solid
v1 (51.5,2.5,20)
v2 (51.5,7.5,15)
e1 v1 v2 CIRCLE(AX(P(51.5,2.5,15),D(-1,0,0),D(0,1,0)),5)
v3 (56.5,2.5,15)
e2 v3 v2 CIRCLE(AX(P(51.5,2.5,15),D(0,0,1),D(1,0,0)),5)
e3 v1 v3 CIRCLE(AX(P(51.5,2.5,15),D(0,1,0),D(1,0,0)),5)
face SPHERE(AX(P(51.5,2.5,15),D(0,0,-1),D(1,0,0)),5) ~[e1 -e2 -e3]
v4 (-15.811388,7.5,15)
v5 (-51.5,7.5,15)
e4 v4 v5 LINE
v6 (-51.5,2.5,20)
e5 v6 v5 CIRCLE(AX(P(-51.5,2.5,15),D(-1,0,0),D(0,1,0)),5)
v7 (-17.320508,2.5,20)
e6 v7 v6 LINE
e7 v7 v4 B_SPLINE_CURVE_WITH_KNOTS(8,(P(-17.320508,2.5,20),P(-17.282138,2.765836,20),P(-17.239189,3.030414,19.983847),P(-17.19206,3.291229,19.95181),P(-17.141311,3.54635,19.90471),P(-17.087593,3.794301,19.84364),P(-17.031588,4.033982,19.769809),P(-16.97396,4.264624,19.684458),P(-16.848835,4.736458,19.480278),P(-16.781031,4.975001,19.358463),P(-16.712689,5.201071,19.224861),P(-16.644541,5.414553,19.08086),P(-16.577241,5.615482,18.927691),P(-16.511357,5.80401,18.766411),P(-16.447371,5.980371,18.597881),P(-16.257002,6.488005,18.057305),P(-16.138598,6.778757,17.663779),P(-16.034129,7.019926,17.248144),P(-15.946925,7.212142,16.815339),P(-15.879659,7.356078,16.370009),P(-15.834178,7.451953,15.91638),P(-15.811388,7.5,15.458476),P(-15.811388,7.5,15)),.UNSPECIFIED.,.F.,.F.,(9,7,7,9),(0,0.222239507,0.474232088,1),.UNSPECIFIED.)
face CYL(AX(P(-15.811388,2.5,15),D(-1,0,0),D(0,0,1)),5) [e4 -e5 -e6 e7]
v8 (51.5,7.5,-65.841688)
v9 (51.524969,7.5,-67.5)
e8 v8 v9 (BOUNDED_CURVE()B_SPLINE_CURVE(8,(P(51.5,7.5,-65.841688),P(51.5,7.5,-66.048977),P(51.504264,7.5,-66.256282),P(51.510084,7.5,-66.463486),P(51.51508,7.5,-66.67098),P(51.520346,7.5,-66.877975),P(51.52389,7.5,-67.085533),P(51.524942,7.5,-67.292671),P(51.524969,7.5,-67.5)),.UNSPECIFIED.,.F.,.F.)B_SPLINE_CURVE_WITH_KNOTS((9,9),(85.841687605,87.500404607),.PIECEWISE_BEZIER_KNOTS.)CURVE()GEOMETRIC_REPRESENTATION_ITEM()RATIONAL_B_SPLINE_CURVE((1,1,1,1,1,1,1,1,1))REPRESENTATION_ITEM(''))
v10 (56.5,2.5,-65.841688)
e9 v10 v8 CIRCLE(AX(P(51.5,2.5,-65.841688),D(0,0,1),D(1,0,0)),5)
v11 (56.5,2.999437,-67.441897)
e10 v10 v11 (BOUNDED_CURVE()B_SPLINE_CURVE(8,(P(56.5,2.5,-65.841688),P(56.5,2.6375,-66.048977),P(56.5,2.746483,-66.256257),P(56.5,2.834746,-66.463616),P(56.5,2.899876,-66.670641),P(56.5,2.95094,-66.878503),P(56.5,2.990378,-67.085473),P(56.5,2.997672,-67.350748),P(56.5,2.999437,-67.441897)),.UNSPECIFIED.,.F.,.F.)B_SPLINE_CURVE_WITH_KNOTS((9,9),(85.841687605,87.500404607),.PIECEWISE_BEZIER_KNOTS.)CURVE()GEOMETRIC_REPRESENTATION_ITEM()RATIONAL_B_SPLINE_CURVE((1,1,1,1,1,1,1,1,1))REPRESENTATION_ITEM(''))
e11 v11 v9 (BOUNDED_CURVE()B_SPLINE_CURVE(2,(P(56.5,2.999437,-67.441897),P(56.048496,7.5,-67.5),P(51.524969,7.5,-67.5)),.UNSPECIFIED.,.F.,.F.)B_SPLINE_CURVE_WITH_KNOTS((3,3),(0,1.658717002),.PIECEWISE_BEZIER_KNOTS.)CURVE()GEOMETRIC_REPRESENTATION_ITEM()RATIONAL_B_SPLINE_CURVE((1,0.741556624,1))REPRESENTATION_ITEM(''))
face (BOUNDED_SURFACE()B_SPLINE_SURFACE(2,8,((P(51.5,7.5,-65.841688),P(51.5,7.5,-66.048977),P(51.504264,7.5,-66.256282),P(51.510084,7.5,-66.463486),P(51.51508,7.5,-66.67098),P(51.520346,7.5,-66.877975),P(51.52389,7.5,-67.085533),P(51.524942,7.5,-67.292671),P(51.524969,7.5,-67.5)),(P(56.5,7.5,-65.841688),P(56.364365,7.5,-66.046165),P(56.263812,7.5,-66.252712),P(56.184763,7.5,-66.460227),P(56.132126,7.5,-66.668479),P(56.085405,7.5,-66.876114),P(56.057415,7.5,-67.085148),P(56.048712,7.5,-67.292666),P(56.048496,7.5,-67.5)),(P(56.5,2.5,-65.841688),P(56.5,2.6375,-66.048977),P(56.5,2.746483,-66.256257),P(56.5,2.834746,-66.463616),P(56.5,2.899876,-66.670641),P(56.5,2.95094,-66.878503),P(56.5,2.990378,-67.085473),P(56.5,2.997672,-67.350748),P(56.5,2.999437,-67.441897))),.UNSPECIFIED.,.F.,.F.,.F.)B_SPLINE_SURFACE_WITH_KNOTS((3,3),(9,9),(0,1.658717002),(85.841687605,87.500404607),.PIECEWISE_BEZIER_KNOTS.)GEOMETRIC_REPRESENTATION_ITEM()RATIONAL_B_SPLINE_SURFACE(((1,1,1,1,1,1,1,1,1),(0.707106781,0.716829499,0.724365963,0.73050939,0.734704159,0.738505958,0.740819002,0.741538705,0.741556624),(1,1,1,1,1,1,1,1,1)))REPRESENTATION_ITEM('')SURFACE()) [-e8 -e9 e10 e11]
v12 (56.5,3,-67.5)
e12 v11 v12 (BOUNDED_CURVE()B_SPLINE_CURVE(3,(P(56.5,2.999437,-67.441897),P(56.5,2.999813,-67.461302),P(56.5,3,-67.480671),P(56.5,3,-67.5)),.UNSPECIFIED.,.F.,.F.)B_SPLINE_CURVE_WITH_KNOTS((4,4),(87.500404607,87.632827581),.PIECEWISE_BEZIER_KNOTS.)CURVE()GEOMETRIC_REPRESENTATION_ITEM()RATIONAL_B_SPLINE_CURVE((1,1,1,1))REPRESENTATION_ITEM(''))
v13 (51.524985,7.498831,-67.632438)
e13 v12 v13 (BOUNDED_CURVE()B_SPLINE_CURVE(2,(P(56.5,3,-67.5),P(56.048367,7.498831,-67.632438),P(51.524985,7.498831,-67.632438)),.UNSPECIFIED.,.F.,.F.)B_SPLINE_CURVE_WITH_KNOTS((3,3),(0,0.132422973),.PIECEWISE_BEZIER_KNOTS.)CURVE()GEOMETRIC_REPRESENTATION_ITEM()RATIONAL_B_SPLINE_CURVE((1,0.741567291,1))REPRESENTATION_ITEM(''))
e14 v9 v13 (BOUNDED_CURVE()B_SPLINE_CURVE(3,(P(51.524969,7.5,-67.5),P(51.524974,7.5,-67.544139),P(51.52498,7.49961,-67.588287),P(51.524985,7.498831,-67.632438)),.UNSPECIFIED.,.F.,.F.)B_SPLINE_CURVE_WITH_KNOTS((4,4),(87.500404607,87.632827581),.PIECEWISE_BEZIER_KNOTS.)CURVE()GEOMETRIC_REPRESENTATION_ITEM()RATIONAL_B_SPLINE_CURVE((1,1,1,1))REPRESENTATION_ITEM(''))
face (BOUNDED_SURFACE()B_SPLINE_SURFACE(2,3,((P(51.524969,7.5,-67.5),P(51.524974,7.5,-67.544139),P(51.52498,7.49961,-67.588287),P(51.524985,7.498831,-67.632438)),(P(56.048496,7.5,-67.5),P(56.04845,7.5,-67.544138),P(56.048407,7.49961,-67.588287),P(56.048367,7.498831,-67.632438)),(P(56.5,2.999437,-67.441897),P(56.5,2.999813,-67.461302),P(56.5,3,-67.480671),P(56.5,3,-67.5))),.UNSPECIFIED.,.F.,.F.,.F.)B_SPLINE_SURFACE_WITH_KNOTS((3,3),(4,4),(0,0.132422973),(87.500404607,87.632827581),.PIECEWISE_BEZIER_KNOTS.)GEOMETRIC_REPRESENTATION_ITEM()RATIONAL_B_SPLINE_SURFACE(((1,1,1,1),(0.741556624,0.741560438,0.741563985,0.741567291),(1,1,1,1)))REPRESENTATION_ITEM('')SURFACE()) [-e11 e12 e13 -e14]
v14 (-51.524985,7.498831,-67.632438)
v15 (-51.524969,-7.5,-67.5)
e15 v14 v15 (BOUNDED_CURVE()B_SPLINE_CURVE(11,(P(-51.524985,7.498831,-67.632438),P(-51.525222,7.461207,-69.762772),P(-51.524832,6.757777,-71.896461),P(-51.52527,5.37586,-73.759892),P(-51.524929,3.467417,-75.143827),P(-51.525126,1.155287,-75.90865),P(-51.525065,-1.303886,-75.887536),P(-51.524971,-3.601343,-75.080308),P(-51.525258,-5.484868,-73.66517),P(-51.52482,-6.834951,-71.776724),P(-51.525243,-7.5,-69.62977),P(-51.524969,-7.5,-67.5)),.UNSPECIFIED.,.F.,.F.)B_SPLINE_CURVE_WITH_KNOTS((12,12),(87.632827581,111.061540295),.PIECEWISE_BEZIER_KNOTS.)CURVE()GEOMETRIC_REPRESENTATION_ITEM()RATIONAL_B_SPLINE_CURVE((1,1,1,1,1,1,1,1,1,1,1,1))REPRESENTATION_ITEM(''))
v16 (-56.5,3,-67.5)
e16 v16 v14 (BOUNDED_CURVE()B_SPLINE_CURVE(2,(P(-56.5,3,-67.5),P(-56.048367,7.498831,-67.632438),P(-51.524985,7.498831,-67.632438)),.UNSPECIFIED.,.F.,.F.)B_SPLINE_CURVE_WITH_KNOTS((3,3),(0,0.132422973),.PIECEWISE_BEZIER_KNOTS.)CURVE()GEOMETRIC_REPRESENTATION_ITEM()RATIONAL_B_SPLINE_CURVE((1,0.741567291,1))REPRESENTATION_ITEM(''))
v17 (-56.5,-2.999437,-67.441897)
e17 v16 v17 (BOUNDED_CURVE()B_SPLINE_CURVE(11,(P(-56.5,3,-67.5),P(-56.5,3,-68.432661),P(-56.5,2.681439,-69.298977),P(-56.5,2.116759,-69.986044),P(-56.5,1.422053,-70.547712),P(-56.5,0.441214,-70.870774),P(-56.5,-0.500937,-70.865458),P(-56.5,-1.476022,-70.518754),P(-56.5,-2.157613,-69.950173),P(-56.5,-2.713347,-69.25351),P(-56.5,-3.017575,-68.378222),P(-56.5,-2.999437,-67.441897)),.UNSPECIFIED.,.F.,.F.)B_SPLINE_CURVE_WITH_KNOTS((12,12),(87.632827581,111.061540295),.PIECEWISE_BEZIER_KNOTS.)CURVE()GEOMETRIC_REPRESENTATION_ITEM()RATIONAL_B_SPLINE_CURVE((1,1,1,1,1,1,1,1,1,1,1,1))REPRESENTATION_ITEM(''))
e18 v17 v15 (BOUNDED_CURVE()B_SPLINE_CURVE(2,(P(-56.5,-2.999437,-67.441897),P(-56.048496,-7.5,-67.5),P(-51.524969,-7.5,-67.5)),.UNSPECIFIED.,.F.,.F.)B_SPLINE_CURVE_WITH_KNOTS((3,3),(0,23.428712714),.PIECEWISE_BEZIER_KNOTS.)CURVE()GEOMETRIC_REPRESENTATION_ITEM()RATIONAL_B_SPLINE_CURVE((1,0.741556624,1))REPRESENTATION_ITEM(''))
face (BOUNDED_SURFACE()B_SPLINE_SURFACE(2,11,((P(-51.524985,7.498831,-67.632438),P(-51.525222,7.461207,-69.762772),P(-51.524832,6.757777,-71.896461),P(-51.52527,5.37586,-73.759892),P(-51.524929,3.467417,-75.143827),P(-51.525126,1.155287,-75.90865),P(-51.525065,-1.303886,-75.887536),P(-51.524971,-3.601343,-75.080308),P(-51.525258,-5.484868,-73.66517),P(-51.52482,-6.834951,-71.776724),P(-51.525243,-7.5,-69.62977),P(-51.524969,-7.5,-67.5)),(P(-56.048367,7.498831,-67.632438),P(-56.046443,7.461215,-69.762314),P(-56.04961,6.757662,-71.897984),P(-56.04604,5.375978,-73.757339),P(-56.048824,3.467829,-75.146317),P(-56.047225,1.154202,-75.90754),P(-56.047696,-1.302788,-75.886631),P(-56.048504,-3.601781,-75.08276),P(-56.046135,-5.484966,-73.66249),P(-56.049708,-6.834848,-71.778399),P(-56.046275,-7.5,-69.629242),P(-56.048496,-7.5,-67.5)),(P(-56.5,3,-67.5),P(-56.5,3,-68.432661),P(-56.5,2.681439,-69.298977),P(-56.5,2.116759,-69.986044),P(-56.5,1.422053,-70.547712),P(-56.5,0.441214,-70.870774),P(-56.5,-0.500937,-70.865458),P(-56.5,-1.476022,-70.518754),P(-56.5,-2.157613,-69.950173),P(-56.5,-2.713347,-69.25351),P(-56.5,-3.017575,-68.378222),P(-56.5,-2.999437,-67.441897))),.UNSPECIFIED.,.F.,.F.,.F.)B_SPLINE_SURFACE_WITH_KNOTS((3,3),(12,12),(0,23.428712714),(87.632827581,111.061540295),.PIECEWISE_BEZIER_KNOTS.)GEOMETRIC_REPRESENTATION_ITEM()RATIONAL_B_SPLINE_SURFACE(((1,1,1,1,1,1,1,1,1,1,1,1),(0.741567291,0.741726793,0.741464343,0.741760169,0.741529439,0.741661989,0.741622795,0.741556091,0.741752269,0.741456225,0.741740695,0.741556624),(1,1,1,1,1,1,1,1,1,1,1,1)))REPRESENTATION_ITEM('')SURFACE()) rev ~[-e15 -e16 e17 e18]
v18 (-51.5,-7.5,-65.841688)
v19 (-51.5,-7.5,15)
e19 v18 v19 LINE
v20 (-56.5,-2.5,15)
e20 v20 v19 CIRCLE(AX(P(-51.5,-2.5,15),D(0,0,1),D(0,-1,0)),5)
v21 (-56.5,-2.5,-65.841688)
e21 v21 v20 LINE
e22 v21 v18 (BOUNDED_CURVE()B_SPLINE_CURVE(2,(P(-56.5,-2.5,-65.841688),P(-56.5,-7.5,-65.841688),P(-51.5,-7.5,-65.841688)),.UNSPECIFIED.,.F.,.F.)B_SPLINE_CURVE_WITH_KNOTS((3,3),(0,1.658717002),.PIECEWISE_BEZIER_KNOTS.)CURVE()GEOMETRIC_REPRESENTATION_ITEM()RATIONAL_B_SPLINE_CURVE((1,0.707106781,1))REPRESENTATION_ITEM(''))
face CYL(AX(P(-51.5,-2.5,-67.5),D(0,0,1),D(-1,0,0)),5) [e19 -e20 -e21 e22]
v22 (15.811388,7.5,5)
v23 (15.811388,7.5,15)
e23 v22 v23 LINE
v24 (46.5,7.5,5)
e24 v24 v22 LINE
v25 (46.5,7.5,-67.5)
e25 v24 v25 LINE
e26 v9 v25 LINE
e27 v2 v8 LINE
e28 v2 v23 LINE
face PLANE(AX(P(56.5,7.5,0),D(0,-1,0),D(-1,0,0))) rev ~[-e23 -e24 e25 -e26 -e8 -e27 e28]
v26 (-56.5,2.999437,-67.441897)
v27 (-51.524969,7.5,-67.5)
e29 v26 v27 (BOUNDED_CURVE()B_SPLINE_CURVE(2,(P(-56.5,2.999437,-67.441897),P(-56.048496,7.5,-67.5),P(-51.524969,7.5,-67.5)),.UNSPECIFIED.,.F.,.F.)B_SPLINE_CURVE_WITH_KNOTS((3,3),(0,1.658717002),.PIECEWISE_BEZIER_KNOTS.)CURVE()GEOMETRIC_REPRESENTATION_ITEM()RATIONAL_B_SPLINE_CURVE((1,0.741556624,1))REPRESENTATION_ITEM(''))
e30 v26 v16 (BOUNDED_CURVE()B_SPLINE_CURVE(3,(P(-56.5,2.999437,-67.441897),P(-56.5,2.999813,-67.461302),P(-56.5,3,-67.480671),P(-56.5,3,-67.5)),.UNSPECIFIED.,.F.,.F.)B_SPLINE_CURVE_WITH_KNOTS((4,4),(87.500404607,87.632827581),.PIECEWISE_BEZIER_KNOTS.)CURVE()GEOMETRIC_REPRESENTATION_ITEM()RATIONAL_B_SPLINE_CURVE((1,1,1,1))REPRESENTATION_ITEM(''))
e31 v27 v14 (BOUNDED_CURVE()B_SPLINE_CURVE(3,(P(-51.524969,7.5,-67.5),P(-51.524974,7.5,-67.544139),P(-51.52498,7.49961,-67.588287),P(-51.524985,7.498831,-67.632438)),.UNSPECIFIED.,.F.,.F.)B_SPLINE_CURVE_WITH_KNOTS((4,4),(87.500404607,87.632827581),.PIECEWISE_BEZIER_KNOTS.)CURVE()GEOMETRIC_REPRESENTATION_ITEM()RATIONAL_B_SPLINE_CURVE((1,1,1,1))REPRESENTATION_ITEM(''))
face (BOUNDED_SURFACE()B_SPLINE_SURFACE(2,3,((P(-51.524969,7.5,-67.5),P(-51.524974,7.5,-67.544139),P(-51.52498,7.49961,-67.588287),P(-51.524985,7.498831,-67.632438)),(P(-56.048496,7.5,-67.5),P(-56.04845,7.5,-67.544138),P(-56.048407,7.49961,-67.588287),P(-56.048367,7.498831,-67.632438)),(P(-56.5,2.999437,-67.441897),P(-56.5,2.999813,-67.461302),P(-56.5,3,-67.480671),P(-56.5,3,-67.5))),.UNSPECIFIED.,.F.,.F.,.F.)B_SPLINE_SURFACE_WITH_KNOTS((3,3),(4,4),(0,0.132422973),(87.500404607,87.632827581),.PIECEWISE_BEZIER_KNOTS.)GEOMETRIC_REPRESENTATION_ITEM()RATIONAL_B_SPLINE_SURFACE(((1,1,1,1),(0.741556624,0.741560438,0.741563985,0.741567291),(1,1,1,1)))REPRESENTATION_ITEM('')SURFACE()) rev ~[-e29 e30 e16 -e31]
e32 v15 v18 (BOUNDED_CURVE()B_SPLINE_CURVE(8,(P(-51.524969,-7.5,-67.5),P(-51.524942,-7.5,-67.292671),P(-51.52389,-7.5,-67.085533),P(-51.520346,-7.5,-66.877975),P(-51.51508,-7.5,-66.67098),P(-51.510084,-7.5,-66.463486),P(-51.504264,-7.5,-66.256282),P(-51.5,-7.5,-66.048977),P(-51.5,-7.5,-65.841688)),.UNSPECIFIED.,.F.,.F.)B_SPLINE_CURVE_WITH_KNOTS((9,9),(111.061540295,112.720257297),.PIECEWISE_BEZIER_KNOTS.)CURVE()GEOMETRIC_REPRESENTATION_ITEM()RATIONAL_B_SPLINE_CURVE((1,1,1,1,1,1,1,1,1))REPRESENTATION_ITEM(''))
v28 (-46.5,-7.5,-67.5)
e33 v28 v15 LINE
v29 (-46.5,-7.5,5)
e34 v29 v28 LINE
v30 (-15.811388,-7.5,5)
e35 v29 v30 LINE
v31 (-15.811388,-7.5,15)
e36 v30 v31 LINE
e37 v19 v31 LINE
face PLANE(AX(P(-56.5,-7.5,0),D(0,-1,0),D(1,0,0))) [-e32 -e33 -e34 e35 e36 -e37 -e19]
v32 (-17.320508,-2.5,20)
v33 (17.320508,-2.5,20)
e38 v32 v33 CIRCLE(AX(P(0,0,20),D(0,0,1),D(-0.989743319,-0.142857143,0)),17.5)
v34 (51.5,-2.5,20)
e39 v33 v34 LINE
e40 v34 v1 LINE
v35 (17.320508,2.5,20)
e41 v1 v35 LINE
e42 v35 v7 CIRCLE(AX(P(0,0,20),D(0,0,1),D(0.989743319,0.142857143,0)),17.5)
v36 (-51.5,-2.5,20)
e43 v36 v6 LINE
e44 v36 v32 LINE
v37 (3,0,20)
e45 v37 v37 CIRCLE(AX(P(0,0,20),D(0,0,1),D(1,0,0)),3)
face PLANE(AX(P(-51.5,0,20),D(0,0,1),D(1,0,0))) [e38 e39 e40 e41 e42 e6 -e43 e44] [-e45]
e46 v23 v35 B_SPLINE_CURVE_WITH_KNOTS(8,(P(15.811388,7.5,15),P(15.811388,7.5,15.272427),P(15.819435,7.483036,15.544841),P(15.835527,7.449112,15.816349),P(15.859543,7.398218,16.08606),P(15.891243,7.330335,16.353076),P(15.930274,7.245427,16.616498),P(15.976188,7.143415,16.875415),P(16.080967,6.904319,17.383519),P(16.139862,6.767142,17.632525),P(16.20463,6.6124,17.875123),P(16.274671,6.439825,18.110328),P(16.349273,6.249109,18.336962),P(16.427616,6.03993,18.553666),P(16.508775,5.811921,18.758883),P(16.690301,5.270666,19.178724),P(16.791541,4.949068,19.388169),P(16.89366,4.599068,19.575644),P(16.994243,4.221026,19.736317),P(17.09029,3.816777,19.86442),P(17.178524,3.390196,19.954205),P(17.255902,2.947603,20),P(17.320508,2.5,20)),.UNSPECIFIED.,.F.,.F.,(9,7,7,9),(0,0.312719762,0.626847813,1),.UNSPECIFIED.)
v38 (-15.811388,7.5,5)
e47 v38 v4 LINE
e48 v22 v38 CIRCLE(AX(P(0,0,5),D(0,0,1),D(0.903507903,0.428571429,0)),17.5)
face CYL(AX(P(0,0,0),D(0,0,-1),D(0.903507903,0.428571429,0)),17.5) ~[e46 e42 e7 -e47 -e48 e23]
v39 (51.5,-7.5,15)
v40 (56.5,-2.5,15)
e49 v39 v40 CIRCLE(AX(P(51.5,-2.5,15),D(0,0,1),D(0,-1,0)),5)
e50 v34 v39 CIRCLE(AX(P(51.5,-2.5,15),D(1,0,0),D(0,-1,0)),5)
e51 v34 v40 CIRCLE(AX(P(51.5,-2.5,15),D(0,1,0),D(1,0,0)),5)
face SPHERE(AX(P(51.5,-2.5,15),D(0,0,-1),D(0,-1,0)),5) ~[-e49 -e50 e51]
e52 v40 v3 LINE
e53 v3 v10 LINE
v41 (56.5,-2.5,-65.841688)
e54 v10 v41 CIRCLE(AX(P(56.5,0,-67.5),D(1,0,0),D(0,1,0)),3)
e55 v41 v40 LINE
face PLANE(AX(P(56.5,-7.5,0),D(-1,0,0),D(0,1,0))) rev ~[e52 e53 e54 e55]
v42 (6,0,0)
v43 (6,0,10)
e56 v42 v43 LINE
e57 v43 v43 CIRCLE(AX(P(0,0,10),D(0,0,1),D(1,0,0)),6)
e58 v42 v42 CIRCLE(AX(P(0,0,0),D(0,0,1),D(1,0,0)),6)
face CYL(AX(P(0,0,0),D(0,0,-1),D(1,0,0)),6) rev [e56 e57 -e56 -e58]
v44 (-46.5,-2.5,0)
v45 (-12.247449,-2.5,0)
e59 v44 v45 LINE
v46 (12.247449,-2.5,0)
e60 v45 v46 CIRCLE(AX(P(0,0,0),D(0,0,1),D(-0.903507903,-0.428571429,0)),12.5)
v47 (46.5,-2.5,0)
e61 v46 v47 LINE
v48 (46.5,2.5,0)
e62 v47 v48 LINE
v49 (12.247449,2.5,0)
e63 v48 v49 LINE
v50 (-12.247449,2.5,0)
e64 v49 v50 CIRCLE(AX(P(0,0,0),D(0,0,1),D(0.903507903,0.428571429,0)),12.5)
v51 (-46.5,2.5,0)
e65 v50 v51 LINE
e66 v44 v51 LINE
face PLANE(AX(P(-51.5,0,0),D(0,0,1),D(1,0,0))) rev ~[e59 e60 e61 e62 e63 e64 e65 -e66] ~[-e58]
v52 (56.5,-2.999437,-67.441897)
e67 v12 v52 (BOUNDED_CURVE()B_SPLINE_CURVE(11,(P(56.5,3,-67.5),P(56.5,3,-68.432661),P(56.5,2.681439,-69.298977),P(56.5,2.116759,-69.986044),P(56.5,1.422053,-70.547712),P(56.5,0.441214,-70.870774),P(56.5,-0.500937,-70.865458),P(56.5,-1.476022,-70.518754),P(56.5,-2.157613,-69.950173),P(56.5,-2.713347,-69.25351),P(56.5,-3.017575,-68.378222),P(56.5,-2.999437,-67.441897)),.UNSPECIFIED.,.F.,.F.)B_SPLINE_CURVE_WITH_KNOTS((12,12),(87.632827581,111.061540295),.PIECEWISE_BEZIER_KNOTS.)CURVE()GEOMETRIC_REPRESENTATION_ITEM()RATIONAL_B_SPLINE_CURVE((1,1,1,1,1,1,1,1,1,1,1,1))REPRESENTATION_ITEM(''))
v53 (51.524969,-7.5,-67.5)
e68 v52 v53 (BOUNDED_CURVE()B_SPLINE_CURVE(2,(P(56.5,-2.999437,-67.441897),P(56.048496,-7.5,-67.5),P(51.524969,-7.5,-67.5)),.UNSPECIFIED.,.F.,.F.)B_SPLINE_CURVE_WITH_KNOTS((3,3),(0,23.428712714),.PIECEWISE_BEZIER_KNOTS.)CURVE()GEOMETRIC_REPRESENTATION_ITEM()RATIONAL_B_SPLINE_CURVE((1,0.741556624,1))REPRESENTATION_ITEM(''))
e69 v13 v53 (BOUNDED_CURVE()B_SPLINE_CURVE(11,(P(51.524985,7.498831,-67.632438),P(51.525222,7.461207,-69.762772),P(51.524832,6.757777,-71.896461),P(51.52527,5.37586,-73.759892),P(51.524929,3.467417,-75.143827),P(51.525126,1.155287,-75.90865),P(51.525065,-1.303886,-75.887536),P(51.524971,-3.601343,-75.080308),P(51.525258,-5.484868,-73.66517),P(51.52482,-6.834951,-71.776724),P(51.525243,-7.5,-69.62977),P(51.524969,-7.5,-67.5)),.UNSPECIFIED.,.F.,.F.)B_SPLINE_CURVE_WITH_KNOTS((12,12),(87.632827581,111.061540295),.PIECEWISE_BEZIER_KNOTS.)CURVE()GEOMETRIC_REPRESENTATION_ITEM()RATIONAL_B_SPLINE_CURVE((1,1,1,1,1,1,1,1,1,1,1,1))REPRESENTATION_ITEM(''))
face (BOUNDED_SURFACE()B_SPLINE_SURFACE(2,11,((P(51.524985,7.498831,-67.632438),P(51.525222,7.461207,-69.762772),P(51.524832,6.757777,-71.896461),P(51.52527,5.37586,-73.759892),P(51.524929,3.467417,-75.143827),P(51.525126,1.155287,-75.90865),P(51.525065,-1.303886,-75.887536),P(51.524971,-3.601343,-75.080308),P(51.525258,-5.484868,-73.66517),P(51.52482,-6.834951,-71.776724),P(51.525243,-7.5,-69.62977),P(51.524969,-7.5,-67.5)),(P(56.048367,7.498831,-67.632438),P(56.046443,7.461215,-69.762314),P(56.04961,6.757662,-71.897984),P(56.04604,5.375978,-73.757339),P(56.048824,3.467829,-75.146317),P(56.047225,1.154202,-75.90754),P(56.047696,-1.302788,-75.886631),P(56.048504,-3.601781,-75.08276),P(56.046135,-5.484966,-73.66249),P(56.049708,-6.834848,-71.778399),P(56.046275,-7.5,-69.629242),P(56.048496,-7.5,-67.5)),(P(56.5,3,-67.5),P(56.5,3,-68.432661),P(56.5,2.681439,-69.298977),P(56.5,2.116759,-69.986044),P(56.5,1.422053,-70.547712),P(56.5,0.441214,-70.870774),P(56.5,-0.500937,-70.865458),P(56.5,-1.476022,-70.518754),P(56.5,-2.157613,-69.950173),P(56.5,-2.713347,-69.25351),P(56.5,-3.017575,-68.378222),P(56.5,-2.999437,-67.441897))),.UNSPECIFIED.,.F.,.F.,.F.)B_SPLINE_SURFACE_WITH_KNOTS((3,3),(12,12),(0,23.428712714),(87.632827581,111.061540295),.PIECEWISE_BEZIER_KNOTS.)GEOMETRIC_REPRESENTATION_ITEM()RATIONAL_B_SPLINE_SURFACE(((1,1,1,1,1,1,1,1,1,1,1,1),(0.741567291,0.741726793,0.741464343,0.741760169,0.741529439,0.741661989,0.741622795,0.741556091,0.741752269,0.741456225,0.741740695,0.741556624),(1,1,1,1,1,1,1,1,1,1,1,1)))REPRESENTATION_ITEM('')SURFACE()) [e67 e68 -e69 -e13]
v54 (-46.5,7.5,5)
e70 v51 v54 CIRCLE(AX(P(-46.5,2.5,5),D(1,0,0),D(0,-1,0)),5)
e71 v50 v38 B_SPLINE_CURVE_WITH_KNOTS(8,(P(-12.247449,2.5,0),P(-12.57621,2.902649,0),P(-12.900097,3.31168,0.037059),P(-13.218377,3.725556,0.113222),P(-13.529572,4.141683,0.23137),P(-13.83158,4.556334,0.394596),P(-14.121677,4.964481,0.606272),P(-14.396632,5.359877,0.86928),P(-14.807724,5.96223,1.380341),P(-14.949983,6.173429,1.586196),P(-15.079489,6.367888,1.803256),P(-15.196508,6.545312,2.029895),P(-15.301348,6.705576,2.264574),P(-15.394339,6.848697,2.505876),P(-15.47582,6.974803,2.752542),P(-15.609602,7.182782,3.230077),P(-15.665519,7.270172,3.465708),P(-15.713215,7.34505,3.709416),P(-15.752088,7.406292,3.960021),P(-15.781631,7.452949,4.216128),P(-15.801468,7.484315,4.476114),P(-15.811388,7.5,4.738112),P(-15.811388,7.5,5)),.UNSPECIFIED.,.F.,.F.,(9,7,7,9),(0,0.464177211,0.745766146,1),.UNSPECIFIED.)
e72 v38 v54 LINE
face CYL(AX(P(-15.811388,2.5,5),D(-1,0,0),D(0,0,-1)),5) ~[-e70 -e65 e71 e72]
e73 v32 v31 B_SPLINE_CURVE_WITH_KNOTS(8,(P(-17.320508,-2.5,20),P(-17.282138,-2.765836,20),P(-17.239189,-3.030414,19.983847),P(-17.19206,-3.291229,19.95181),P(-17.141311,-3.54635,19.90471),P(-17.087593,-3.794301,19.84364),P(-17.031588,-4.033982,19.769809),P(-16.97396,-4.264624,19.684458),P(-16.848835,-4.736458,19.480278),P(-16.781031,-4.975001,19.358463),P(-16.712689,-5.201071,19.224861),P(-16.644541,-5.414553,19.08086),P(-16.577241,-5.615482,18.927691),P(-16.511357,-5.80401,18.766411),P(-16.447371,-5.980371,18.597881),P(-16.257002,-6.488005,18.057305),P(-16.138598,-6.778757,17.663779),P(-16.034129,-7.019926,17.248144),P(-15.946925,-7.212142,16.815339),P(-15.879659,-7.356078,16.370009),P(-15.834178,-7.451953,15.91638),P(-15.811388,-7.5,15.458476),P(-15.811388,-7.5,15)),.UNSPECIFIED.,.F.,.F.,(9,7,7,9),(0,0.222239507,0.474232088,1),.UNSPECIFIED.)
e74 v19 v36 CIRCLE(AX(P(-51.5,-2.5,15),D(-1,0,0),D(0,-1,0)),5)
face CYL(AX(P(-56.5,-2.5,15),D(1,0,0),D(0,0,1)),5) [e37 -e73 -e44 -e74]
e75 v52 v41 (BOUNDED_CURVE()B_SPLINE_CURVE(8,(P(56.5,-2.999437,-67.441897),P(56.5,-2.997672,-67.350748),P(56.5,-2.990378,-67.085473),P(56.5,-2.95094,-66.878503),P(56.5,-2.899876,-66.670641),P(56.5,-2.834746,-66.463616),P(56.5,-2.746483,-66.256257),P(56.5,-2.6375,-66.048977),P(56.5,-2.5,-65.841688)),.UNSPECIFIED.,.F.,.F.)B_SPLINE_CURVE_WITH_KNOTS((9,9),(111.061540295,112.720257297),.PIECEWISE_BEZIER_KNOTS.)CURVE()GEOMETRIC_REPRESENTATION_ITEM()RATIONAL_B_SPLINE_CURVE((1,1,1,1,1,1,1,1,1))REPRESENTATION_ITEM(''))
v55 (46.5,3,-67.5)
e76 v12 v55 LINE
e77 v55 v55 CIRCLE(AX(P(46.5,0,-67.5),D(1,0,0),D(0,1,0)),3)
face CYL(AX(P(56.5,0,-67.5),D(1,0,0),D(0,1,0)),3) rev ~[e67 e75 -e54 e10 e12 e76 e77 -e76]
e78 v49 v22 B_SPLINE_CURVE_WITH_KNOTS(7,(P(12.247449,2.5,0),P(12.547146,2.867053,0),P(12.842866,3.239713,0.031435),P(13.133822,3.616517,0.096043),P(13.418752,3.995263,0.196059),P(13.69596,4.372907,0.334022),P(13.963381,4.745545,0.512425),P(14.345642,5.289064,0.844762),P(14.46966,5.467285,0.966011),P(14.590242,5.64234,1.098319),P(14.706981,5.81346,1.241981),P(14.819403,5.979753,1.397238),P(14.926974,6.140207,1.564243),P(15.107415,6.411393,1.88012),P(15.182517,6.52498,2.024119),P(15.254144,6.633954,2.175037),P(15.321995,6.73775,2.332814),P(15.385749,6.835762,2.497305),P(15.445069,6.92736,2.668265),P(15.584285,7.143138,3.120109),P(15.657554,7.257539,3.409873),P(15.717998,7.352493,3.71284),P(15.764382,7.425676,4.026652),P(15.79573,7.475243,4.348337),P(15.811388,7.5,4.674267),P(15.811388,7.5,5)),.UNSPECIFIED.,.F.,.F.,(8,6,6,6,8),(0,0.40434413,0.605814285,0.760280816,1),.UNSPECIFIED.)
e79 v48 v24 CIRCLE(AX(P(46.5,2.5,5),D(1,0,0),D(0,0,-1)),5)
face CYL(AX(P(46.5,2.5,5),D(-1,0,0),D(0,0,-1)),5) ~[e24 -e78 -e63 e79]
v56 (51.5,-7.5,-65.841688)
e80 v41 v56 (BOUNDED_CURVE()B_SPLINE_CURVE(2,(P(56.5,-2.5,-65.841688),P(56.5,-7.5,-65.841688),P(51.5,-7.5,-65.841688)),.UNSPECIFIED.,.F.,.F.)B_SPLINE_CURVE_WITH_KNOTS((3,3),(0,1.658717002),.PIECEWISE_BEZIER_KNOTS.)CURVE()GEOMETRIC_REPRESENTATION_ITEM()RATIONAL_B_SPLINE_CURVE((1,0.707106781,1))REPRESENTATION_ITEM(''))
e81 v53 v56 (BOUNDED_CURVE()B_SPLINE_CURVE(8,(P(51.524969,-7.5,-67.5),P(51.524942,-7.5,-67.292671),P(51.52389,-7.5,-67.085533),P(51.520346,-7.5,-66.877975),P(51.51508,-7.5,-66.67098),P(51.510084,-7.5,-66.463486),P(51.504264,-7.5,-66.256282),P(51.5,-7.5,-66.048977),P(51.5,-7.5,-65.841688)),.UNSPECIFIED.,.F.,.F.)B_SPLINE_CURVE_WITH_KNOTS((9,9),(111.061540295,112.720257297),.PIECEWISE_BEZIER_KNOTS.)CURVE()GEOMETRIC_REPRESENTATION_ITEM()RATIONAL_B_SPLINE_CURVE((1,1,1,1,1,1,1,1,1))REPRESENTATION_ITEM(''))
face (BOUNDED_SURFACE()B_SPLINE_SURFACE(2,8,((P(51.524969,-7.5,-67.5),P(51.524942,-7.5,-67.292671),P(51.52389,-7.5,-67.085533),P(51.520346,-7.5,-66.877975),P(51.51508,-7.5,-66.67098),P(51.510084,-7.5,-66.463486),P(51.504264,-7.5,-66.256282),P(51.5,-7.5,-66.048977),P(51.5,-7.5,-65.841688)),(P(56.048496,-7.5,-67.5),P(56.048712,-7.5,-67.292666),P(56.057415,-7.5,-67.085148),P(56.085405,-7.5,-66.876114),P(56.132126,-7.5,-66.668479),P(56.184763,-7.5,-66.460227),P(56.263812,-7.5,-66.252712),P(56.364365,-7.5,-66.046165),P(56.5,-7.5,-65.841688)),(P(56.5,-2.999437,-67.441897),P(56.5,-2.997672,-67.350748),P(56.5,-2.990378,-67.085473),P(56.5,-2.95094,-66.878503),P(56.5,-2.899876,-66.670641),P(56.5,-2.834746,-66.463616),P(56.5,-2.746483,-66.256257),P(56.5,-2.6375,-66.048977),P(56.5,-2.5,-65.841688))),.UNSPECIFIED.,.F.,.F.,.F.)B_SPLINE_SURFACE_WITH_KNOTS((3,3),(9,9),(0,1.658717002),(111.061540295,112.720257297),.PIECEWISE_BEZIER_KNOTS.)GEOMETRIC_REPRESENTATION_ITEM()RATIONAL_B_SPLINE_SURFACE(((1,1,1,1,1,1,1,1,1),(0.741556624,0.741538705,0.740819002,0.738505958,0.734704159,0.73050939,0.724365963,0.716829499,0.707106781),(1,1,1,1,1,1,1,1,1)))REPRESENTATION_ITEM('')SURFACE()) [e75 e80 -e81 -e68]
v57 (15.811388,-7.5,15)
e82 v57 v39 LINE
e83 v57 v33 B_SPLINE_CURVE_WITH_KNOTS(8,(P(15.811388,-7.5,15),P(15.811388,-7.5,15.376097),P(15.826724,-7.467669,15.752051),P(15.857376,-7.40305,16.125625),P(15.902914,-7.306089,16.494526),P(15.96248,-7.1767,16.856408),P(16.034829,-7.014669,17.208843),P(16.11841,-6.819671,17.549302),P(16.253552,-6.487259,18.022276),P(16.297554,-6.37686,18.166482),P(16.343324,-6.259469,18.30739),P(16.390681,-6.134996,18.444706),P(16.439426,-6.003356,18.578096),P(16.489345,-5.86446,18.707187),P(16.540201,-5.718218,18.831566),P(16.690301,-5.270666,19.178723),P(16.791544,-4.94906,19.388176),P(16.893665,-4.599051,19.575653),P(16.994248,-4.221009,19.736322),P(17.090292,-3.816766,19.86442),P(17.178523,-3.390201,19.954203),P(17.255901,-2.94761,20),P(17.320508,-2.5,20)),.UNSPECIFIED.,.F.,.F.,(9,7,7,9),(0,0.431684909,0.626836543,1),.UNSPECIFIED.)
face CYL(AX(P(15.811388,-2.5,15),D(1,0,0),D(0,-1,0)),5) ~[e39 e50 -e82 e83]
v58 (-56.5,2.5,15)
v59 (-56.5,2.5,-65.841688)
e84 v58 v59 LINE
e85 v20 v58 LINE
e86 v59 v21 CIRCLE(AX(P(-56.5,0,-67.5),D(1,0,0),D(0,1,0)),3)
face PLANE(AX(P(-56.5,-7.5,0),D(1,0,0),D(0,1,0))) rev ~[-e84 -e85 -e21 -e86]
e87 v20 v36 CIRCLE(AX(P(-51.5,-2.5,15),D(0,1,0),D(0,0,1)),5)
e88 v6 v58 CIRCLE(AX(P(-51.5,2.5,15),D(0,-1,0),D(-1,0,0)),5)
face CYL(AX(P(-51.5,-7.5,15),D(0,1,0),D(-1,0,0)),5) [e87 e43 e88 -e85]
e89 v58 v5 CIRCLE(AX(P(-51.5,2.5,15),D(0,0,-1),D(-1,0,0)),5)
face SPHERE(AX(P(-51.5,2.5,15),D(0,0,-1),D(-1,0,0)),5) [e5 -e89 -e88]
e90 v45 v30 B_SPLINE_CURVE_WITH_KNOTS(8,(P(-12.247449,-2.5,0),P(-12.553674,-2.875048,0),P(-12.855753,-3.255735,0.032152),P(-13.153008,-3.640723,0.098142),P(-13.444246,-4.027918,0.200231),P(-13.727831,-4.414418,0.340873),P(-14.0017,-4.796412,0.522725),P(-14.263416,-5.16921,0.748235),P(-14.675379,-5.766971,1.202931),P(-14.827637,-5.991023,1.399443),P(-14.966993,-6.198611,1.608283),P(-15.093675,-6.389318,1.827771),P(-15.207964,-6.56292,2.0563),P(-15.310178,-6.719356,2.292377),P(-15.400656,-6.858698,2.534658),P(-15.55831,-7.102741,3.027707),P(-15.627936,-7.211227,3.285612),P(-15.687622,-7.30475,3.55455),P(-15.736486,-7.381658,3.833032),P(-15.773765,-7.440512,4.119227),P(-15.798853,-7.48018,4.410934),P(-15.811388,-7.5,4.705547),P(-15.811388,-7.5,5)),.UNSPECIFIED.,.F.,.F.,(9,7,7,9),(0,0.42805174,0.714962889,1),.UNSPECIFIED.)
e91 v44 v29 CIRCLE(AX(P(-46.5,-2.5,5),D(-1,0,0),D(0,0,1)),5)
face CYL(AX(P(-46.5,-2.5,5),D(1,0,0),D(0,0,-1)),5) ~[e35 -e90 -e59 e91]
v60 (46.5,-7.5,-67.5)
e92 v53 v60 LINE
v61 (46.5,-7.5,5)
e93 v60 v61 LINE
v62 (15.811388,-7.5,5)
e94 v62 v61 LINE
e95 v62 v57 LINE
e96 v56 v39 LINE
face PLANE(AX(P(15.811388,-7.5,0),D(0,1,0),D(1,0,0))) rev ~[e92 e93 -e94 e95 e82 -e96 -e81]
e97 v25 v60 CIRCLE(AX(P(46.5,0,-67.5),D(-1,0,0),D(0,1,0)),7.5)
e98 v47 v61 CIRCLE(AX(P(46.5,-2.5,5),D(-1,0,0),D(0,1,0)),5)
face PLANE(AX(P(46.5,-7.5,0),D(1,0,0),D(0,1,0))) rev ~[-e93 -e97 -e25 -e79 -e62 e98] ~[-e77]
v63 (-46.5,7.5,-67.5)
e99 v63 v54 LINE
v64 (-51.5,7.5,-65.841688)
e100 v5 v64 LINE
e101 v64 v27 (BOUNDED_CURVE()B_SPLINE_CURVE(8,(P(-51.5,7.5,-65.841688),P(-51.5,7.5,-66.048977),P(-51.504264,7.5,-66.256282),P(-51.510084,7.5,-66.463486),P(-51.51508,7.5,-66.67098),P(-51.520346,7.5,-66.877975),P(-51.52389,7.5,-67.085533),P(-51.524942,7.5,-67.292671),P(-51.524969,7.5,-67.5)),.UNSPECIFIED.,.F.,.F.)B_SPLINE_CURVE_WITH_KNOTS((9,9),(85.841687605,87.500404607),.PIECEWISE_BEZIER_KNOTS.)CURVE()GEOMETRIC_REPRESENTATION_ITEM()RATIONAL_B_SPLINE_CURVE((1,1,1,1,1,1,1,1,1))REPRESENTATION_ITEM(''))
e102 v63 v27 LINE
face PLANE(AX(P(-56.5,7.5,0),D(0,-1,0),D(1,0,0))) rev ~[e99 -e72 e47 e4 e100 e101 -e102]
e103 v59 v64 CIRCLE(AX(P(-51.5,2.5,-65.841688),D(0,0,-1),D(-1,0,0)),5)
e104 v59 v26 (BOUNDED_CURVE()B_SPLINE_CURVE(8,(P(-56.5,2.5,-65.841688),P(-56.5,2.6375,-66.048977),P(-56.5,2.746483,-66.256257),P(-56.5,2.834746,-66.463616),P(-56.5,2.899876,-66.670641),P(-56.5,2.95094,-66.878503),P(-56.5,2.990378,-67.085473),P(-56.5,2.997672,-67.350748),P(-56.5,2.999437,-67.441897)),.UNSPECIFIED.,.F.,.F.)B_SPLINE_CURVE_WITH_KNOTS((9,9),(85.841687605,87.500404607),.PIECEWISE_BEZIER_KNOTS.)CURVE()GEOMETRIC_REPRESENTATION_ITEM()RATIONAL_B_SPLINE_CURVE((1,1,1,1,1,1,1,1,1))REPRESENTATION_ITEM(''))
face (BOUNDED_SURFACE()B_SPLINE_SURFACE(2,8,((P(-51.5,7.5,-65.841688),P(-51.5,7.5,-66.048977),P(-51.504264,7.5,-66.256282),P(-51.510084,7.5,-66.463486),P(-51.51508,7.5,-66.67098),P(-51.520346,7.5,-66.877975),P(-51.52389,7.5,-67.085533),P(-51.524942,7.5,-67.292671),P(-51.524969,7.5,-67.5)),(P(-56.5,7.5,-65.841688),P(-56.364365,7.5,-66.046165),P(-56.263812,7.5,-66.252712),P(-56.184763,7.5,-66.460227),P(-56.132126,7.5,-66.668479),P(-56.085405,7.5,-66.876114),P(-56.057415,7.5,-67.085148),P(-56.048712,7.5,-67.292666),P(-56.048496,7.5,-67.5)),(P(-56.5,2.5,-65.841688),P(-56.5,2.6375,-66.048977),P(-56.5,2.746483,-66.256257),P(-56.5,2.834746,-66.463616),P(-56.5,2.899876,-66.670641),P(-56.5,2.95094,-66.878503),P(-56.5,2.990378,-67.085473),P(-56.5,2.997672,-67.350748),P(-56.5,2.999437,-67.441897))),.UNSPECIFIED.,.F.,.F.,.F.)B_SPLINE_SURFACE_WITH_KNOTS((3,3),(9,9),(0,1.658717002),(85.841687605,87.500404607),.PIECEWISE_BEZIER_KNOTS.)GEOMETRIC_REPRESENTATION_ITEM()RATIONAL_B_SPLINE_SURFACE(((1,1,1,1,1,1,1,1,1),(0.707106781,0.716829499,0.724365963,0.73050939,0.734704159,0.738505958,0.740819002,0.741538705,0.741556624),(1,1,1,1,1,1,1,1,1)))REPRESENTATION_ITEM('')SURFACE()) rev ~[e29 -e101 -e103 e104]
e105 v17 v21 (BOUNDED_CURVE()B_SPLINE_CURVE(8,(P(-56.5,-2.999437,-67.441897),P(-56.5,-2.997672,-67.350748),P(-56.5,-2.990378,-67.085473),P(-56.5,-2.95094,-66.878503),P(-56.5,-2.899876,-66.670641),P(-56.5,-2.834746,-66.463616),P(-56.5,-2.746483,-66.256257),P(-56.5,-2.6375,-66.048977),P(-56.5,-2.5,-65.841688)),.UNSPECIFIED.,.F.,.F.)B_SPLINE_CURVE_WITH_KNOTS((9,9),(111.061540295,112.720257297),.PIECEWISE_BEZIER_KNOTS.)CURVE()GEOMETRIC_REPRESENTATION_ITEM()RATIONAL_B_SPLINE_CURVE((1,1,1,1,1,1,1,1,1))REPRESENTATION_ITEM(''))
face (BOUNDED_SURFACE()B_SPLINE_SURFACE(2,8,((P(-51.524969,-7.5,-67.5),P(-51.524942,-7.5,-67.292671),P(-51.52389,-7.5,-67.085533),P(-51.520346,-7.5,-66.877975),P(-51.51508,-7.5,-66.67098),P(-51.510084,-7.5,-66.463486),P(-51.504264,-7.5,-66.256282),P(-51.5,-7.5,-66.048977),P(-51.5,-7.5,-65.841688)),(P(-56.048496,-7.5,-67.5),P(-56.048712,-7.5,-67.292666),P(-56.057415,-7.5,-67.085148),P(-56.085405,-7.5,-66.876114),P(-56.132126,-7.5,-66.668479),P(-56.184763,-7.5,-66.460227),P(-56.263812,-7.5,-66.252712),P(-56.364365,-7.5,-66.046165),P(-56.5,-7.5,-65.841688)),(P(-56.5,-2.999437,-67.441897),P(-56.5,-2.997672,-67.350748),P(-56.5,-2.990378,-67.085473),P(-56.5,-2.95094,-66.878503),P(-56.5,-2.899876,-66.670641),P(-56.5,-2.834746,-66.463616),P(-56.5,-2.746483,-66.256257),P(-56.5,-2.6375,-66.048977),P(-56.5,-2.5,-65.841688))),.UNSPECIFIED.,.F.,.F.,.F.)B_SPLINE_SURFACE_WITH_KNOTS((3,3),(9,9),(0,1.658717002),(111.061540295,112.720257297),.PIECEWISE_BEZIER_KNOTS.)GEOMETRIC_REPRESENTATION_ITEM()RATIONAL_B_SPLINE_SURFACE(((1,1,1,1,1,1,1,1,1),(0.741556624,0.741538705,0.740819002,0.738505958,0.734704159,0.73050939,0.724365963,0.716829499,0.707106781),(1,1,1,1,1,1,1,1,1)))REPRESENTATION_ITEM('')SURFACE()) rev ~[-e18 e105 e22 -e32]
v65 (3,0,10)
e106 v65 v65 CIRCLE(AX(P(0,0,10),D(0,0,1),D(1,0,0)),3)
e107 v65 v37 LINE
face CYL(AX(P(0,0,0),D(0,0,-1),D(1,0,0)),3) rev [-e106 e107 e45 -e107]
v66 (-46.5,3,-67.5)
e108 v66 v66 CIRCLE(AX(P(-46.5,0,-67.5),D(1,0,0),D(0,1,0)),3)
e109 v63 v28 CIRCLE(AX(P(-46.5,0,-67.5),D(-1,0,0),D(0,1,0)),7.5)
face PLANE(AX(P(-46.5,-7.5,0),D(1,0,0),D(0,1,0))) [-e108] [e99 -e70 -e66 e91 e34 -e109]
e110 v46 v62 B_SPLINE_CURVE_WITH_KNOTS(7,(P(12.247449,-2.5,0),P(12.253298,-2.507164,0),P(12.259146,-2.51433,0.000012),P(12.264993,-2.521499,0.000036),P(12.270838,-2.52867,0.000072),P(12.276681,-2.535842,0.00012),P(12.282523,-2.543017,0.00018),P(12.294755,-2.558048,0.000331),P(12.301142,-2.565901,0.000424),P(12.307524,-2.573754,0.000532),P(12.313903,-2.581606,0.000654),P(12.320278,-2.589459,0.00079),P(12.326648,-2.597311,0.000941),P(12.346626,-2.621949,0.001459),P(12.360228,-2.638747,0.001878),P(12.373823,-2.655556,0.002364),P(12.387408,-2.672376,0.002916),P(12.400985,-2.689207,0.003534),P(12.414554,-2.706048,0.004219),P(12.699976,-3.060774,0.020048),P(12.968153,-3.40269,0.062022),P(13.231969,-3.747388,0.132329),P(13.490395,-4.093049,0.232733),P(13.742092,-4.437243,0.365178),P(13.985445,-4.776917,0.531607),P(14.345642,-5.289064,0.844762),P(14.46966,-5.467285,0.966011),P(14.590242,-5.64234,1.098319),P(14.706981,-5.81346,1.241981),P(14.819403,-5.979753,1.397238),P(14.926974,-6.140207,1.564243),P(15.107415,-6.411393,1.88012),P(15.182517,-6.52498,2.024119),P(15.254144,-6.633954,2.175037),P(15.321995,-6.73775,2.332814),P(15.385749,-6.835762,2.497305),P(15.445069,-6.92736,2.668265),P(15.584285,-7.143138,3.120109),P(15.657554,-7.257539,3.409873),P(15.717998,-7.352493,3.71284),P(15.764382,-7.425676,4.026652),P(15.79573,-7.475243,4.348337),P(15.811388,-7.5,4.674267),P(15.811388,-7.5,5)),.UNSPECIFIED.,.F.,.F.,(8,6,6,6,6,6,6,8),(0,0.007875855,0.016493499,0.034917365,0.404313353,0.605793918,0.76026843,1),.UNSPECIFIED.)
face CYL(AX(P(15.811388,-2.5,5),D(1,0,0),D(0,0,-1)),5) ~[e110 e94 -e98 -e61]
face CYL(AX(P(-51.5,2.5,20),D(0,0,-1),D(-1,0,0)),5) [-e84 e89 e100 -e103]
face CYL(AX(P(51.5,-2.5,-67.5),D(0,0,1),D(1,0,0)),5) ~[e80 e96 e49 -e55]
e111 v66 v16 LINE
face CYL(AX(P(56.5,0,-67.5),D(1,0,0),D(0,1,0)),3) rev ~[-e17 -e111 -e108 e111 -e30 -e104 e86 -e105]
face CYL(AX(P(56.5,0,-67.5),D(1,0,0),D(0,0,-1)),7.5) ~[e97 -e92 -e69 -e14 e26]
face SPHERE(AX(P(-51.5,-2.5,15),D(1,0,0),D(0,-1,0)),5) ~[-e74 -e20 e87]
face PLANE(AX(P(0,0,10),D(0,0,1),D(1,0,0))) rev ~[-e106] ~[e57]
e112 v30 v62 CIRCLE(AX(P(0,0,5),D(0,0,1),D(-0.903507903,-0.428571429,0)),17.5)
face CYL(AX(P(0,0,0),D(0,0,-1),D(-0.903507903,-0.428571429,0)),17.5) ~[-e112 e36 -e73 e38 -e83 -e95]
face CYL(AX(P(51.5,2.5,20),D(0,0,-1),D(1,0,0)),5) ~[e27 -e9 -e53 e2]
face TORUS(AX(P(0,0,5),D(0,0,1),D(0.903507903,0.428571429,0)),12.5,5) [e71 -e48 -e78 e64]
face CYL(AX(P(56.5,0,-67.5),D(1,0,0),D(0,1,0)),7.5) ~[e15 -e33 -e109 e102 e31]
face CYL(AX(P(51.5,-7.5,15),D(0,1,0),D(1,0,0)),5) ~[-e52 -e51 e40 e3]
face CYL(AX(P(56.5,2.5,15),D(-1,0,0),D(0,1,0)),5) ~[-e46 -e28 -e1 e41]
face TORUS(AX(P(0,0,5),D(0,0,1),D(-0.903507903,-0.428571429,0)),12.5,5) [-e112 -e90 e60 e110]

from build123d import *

# Parameters (mm, degrees)
F0_W     = 10
F0_H     = 15
F0_R     = 6
F0_R_2   = 3
F1_DEPTH = 20
F2_DEPTH = 75
F3_DEPTH = 10
F4_R     = 3
F5_DEPTH = 113.001
F6_R     = 5


with BuildPart() as f1:
    # F0 (on Top) → F1 (new body)
    with BuildSketch(Plane.XY):
        with Locations((-51.5, 0)):
            Rectangle(F0_W, F0_H)
        with BuildLine():
            ThreePointArc((-15.8113883008, -7.5), (-17.5, 0), (-15.8113883008, 7.5))
            Line((-15.8113883008, 7.5), (-46.5, 7.5))
            Line((-46.5, 7.5), (-46.5, -7.5))
            Line((-46.5, -7.5), (-15.8113883008, -7.5))
        make_face()
        with BuildLine():
            ThreePointArc((15.8113883008, -7.5), (17.0726286093, -3.843872054), (17.5, 0))
            ThreePointArc((17.5, 0), (17.0726286093, 3.843872054), (15.8113883008, 7.5))
            Line((15.8113883008, 7.5), (-15.8113883008, 7.5))
            ThreePointArc((-15.8113883008, 7.5), (-17.5, 0), (-15.8113883008, -7.5))
            Line((-15.8113883008, -7.5), (15.8113883008, -7.5))
        make_face()
        Circle(F0_R, mode=Mode.SUBTRACT)
        with BuildLine():
            Line((-15.8113883008, 7.5), (15.8113883008, 7.5))
            ThreePointArc((15.8113883008, 7.5), (0, 17.5), (-15.8113883008, 7.5))
        make_face()
        with BuildLine():
            ThreePointArc((-15.8113883008, -7.5), (0, -17.5), (15.8113883008, -7.5))
            Line((15.8113883008, -7.5), (-15.8113883008, -7.5))
        make_face()
        Circle(F0_R)
        Circle(F0_R_2, mode=Mode.SUBTRACT)
        with BuildLine():
            ThreePointArc((15.8113883008, 7.5), (17.0726286093, 3.843872054), (17.5, 0))
            ThreePointArc((17.5, 0), (17.0726286093, -3.843872054), (15.8113883008, -7.5))
            Line((15.8113883008, -7.5), (46.5, -7.5))
            Line((46.5, -7.5), (46.5, 7.5))
            Line((46.5, 7.5), (15.8113883008, 7.5))
        make_face()
        with Locations((51.5, 0)):
            Rectangle(F0_W, F0_H)
    extrude(amount=F1_DEPTH)

    # F0 (on Top) → F2 (join)
    with BuildSketch(Plane.XY):
        with Locations((-51.5, 0)):
            Rectangle(F0_W, F0_H)
        with Locations((51.5, 0)):
            Rectangle(F0_W, F0_H)
    extrude(amount=-F2_DEPTH)

    # F0 (on Top) → F3 (cut)
    with BuildSketch(Plane.XY):
        Circle(F0_R)
        Circle(F0_R_2, mode=Mode.SUBTRACT)
    extrude(amount=F3_DEPTH, mode=Mode.SUBTRACT)

    # F4 (on face) → F5 (cut, through all)
    with BuildSketch(Plane.YZ.offset(56.5)):
        with BuildLine():
            Line((7.5, -75), (7.5, -67.5))
            ThreePointArc((7.5, -67.5), (5.3033008589, -72.8033008589), (0, -75))
            Line((0, -75), (7.5, -75))
        make_face()
        with BuildLine():
            Line((-7.5, -75), (0, -75))
            ThreePointArc((0, -75), (-5.3033008589, -72.8033008589), (-7.5, -67.5))
            Line((-7.5, -67.5), (-7.5, -75))
        make_face()
        with Locations((0, -67.5)):
            Circle(F4_R)
    extrude(amount=-F5_DEPTH, mode=Mode.SUBTRACT)

    # F6
    f6_edges = [f1.edges().sort_by_distance(p)[0] for p in [
        (-36.155694, -7.5, 20),
        (-56.5, -7.5, -23.75),
        (56.5, -7.5, -23.75),
        (36.155694, -7.5, 20),
        (56.5, 0, 20),
        (-56.5, 0, 20),
        (-36.155694, 7.5, 20),
        (36.155694, 7.5, 20),
        (0, -17.5, 0),
        (-31.155694, -7.5, 0),
        (31.155694, -7.5, 0),
        (-31.155694, 7.5, 0),
        (31.155694, 7.5, 0),
        (0, 17.5, 0),
    ]]
    fillet(f6_edges, radius=F6_R)


solid = f1.part
